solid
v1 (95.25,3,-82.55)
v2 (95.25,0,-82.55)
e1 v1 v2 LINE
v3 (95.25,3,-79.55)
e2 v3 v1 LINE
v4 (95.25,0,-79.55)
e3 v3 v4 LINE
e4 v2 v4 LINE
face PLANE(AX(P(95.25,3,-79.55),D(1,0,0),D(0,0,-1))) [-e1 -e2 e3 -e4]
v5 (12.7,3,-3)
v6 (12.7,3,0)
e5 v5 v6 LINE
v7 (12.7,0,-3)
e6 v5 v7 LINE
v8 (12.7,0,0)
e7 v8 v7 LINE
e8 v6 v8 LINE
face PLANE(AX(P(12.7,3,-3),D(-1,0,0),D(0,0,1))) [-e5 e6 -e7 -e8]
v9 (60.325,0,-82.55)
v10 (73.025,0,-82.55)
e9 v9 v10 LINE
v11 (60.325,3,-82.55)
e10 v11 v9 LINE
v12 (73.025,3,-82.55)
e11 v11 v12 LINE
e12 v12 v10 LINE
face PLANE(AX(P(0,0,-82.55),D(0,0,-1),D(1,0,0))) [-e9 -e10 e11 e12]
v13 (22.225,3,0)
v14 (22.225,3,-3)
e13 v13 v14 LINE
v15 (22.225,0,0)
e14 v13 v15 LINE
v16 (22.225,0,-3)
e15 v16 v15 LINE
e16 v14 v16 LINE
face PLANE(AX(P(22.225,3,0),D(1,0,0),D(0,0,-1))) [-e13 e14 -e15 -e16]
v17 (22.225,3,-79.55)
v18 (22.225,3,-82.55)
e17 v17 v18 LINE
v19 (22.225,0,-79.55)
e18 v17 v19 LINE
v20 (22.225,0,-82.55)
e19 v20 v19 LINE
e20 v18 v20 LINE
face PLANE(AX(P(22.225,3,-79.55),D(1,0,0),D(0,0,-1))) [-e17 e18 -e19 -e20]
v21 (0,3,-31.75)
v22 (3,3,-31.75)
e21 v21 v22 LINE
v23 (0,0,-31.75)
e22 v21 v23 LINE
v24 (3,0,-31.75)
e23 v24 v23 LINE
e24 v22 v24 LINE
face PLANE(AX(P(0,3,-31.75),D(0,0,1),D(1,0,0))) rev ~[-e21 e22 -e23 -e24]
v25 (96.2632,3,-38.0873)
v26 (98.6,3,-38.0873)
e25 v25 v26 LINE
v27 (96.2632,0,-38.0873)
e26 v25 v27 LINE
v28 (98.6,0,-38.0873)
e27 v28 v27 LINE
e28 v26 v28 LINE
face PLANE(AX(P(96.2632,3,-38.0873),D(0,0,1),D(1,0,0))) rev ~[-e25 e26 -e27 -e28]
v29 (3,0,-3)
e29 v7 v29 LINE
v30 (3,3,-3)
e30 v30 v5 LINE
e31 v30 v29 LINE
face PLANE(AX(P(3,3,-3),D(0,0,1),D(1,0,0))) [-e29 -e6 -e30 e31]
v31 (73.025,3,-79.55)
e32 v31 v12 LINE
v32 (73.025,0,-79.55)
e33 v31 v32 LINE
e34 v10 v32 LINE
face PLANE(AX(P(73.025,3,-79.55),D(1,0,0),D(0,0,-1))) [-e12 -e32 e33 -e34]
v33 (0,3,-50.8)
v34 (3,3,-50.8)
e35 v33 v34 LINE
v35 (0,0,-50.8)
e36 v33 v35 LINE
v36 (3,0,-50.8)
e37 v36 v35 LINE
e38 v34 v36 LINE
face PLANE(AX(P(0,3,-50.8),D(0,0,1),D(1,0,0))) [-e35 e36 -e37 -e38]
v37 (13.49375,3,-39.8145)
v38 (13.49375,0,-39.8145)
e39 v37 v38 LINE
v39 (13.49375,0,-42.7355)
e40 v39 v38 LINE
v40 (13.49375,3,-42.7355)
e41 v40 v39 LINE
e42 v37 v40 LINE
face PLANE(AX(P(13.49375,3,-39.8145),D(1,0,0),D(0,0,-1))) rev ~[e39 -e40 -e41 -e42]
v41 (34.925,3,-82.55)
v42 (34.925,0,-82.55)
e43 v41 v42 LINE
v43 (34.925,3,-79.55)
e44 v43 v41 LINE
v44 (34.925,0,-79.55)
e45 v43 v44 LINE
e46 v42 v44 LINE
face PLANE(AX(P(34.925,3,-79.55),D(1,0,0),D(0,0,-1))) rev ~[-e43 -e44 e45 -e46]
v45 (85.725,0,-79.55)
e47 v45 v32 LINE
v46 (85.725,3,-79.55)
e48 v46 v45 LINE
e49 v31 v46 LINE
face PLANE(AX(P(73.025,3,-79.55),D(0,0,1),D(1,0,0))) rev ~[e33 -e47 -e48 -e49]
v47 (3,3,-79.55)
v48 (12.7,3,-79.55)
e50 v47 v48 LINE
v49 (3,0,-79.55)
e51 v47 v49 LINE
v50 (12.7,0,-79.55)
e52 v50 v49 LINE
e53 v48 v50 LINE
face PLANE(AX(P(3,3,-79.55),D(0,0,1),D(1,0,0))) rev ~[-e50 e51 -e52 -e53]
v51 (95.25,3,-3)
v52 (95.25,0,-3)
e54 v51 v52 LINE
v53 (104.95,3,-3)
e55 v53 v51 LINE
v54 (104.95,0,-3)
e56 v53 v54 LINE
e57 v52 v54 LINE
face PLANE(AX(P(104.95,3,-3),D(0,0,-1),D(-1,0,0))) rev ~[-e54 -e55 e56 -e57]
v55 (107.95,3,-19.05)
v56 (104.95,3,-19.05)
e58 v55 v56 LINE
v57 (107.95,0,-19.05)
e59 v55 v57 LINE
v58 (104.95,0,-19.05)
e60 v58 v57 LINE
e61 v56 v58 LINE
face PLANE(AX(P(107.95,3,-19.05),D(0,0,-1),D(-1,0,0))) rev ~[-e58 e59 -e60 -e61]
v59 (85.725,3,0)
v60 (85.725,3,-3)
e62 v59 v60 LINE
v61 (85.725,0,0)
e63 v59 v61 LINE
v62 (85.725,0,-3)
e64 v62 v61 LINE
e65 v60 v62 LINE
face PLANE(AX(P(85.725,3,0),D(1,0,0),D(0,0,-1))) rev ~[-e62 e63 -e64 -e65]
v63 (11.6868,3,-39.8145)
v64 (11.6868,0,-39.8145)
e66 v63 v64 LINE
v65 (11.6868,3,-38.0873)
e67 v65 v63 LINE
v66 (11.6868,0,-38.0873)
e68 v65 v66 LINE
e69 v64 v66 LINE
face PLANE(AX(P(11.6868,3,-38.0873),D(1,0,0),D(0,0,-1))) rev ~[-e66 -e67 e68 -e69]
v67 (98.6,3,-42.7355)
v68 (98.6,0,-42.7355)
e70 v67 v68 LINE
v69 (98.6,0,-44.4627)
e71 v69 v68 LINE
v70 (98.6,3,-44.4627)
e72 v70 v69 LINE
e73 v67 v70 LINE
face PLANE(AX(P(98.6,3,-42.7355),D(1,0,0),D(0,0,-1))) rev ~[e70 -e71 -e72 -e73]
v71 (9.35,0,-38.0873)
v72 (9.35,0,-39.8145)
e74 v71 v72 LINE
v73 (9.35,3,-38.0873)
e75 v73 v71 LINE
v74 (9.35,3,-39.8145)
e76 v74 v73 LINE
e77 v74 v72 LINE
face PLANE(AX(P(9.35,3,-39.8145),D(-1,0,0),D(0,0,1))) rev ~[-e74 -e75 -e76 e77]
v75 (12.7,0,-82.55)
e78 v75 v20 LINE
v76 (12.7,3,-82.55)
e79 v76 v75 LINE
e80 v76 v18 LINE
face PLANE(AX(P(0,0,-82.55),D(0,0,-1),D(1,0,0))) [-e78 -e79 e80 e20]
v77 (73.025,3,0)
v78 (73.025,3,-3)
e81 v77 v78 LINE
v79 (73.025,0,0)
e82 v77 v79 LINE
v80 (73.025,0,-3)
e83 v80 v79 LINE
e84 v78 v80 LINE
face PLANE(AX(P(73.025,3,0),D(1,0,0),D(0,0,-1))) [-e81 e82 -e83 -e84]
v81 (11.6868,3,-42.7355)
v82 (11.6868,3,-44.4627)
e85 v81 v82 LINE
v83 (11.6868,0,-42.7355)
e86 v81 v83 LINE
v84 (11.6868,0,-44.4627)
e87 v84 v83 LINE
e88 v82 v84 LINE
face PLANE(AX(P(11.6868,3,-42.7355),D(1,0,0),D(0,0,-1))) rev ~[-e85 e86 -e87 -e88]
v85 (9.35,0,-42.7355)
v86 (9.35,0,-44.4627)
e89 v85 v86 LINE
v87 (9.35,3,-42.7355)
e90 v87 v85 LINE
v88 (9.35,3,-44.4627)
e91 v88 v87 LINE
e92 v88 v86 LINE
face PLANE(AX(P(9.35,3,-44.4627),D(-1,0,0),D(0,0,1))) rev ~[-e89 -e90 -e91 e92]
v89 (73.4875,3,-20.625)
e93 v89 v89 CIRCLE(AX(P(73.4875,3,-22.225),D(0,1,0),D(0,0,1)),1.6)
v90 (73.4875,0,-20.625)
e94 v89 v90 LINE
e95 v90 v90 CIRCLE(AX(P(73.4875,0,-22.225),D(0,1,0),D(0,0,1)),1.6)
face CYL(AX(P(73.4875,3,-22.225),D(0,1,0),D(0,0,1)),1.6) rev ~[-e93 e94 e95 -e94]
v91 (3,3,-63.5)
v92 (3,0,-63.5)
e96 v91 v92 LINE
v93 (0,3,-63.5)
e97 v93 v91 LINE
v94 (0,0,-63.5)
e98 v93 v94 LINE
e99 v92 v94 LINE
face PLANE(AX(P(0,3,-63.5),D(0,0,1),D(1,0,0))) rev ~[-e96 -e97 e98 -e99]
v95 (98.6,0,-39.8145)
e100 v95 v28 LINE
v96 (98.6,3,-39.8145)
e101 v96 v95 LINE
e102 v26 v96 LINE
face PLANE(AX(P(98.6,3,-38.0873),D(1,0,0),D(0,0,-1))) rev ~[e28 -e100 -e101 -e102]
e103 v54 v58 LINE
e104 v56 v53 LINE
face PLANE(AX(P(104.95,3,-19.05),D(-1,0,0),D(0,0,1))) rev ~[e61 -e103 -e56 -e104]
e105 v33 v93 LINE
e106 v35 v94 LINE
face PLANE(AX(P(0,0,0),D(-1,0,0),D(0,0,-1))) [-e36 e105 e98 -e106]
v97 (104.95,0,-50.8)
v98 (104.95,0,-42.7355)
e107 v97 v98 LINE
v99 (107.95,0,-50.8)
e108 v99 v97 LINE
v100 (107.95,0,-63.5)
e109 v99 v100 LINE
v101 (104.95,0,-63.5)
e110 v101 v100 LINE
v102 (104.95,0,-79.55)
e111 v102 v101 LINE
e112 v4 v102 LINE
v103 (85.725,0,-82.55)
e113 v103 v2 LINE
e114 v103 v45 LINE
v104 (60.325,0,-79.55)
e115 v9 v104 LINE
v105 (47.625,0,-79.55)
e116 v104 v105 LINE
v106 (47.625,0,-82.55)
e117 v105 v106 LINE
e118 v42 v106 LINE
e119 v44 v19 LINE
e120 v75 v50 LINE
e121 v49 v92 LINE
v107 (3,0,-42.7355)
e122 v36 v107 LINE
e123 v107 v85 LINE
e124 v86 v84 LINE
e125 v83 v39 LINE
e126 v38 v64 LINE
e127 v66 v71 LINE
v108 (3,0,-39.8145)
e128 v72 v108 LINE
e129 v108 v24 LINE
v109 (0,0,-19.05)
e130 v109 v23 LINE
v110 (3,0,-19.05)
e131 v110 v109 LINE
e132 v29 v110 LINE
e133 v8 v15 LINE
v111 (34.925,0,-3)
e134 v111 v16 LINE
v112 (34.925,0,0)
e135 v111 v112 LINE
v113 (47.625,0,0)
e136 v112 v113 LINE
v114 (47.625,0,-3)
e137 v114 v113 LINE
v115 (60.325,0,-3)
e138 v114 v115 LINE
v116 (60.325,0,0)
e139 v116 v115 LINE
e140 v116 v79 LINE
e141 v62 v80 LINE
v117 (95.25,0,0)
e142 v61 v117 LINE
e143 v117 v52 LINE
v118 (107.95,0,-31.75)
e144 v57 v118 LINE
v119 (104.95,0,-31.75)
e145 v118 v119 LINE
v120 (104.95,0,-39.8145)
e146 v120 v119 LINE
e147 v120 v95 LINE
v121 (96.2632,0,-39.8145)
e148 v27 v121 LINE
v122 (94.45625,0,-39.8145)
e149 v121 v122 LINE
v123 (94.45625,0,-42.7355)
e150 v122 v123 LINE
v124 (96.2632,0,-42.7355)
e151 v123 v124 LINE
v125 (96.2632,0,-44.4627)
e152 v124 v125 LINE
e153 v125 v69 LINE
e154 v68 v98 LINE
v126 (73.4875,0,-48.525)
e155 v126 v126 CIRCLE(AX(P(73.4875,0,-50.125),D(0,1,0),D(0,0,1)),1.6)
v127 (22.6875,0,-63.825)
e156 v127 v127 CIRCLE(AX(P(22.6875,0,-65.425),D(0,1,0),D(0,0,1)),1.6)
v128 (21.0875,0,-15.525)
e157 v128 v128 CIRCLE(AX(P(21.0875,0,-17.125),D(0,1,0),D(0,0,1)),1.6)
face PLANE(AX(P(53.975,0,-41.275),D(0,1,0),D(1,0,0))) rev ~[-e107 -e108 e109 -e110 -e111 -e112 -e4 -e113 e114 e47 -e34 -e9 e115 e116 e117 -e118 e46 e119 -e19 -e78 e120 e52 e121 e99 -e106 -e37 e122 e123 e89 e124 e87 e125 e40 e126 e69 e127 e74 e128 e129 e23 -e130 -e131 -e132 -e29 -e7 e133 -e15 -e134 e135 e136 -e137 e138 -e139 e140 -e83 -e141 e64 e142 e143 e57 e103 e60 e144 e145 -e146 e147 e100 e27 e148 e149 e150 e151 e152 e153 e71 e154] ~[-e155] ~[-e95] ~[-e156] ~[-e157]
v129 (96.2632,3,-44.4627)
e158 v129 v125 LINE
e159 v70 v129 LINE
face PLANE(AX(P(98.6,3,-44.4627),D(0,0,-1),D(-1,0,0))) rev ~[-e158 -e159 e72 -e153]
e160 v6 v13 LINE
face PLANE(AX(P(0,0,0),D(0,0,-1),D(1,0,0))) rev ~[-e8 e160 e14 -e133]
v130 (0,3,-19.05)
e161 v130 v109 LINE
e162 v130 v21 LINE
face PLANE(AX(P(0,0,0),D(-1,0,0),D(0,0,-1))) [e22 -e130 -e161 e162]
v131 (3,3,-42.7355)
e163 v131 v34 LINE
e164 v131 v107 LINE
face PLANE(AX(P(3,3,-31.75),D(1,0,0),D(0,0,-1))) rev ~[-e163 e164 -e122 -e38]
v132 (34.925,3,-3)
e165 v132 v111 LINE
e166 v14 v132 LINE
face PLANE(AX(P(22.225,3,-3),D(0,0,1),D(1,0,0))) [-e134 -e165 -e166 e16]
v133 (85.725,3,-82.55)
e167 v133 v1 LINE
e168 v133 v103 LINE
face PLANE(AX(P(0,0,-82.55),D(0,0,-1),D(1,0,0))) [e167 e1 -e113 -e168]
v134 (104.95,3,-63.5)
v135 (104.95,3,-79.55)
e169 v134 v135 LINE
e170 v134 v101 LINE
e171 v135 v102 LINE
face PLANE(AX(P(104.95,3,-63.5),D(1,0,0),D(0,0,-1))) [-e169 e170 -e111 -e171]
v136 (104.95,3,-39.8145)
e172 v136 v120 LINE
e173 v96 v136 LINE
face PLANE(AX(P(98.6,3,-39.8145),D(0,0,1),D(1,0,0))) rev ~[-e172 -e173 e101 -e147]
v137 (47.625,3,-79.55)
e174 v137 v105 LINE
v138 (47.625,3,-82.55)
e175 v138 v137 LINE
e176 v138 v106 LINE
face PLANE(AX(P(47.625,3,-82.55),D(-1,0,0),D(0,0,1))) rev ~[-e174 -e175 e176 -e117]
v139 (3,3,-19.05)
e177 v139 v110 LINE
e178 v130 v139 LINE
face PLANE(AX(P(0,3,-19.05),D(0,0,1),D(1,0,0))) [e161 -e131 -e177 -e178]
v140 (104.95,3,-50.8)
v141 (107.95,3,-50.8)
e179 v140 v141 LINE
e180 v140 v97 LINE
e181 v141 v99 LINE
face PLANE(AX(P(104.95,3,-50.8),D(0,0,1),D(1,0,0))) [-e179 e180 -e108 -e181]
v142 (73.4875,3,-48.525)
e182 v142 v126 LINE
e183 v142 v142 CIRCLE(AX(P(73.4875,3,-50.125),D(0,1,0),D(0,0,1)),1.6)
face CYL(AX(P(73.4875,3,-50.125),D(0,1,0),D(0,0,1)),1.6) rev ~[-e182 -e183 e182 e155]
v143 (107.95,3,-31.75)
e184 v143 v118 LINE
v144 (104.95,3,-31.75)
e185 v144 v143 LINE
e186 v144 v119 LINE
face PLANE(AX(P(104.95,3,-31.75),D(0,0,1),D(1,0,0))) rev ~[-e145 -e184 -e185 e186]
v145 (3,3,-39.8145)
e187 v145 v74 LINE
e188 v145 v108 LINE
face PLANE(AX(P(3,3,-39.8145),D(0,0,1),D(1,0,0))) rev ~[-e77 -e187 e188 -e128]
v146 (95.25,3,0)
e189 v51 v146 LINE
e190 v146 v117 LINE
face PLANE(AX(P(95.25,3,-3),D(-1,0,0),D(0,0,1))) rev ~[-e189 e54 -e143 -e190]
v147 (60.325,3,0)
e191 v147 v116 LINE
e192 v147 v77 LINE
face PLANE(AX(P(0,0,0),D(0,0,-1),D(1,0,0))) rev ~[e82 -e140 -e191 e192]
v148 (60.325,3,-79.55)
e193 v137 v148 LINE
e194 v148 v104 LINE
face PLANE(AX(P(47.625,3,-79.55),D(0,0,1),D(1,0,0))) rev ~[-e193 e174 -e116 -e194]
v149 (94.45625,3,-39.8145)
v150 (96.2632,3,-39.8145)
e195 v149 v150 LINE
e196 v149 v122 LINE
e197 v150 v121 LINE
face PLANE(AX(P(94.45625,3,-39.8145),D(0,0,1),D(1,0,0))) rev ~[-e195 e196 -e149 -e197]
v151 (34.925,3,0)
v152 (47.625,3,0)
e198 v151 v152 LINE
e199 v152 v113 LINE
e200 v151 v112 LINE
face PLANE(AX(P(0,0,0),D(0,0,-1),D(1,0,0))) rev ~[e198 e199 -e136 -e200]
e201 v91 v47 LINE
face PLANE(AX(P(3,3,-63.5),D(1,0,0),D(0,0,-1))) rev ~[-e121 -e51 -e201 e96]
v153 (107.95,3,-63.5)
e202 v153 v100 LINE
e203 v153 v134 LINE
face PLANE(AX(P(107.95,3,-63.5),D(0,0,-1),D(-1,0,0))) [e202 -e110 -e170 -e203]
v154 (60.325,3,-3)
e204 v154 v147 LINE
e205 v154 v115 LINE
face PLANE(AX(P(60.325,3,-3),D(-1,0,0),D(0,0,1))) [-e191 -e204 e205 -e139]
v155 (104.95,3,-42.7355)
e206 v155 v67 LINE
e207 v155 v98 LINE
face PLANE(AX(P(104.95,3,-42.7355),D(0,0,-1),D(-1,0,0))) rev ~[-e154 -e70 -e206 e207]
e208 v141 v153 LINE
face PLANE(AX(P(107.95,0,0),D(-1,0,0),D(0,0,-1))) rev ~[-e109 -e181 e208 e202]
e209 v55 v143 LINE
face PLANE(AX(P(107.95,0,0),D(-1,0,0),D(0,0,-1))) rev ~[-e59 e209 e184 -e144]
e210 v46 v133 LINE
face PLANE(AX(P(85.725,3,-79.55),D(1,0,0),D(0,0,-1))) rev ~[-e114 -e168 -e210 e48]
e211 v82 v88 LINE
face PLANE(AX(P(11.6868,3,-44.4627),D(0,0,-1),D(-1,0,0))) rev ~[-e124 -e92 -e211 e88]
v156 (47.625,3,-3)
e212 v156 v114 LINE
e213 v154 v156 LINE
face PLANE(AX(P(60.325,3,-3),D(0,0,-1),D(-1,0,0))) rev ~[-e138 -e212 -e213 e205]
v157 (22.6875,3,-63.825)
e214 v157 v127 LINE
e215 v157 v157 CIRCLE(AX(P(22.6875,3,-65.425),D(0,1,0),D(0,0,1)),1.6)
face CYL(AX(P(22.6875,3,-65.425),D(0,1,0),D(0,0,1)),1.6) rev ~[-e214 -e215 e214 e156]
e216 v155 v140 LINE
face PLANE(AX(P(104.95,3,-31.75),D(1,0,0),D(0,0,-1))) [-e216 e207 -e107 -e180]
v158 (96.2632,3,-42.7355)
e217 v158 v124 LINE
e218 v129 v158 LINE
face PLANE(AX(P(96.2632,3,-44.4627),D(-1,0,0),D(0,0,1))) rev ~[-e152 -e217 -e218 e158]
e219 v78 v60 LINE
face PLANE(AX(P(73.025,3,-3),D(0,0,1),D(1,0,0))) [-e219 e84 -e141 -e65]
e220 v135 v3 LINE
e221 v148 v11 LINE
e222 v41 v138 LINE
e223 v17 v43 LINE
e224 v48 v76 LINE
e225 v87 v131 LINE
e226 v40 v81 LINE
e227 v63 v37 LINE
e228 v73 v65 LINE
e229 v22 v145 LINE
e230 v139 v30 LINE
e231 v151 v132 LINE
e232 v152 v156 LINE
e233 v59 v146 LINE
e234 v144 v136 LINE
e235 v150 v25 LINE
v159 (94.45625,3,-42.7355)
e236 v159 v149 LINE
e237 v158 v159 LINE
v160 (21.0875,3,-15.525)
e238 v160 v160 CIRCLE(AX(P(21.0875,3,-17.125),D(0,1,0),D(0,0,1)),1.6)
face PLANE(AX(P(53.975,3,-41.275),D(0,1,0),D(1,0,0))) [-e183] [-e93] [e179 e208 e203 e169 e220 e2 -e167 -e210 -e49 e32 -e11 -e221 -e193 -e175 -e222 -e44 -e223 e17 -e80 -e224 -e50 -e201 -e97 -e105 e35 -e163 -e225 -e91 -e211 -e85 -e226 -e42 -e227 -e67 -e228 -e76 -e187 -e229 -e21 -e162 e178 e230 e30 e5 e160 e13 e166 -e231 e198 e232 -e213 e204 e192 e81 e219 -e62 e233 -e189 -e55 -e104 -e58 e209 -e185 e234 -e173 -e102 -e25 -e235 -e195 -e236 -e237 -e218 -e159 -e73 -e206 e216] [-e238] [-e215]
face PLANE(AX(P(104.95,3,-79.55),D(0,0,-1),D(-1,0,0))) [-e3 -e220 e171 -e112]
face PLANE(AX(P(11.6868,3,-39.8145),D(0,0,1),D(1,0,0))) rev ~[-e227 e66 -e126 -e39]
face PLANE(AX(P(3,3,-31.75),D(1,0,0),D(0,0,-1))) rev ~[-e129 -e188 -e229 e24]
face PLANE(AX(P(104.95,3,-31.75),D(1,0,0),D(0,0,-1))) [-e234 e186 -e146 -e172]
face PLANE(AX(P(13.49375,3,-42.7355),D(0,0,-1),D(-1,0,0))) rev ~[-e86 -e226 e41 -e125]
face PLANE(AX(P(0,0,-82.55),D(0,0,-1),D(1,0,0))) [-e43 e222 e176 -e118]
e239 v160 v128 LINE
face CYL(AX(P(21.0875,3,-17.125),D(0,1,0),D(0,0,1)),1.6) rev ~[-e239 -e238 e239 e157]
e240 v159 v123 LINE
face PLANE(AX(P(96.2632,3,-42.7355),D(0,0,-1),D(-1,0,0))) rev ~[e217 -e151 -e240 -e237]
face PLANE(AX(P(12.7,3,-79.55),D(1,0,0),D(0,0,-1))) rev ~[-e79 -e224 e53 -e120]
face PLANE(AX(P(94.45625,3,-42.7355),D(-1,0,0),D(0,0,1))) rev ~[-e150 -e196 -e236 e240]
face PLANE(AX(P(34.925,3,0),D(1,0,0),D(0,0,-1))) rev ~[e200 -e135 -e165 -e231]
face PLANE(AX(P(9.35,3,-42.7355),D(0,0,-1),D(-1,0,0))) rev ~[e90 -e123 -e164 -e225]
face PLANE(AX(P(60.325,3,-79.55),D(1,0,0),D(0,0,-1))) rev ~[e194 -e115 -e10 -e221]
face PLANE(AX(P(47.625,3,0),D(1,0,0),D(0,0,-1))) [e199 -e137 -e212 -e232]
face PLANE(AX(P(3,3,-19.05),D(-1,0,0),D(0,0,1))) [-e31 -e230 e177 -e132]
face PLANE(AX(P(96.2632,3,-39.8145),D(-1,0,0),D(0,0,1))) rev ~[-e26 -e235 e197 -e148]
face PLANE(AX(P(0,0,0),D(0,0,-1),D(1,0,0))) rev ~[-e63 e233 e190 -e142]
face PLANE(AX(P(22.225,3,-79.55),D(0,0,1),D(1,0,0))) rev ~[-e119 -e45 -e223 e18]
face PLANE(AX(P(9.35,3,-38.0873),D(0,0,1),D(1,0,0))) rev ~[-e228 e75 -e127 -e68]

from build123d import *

# Parameters (mm, degrees)
SKETCH1_W           = 107.95
SKETCH1_H           = 82.55
BOSS_EXTRUDE1_DEPTH = 3
CUT_EXTRUDE2_REACH  = 137.929
SKETCH3_W           = 12.7
SKETCH3_H           = 3
SKETCH3_W_2         = 3
SKETCH3_H_2         = 19.05
CUT_EXTRUDE3_REACH  = 137.929
SKETCH4_R           = 1.6
CUT_EXTRUDE5_REACH  = 137.929


with BuildPart() as part:
    # Sketch1 → Boss-Extrude1 (new body)
    with BuildSketch(Plane(origin=(0, 0, 0), x_dir=(1, 0, 0), z_dir=(0, 1, 0))):
        with Locations((53.975, 41.275)):
            Rectangle(SKETCH1_W, SKETCH1_H)
    extrude(amount=BOSS_EXTRUDE1_DEPTH)

    # Sketch3 → Cut-Extrude2 (cut, up to next)
    with BuildSketch(Plane(origin=(0, 3, 0), x_dir=(1, 0, 0), z_dir=(0, 1, 0)), mode=Mode.PRIVATE) as cut_extrude2_sk1:
        with Locations((28.575, 1.5)):
            Rectangle(SKETCH3_W, SKETCH3_H)
    cut_extrude2_tool1 = extrude(cut_extrude2_sk1.sketch, amount=-CUT_EXTRUDE2_REACH, mode=Mode.PRIVATE) & part.part
    # Sketch3 → Cut-Extrude2 (cut, up to next)
    with BuildSketch(Plane(origin=(0, 3, 0), x_dir=(1, 0, 0), z_dir=(0, 1, 0)), mode=Mode.PRIVATE) as cut_extrude2_sk2:
        with Locations((79.375, 1.5)):
            Rectangle(SKETCH3_W, SKETCH3_H)
    cut_extrude2_tool2 = extrude(cut_extrude2_sk2.sketch, amount=-CUT_EXTRUDE2_REACH, mode=Mode.PRIVATE) & part.part
    # Sketch3 → Cut-Extrude2 (cut, up to next)
    with BuildSketch(Plane(origin=(0, 3, 0), x_dir=(1, 0, 0), z_dir=(0, 1, 0)), mode=Mode.PRIVATE) as cut_extrude2_sk3:
        with Locations((79.375, 81.05)):
            Rectangle(SKETCH3_W, SKETCH3_H)
    cut_extrude2_tool3 = extrude(cut_extrude2_sk3.sketch, amount=-CUT_EXTRUDE2_REACH, mode=Mode.PRIVATE) & part.part
    # Sketch3 → Cut-Extrude2 (cut, up to next)
    with BuildSketch(Plane(origin=(0, 3, 0), x_dir=(1, 0, 0), z_dir=(0, 1, 0)), mode=Mode.PRIVATE) as cut_extrude2_sk4:
        with Locations((1.5, 41.275)):
            Rectangle(SKETCH3_W_2, SKETCH3_H_2)
    cut_extrude2_tool4 = extrude(cut_extrude2_sk4.sketch, amount=-CUT_EXTRUDE2_REACH, mode=Mode.PRIVATE) & part.part
    # Sketch3 → Cut-Extrude2 (cut, up to next)
    with BuildSketch(Plane(origin=(0, 3, 0), x_dir=(1, 0, 0), z_dir=(0, 1, 0)), mode=Mode.PRIVATE) as cut_extrude2_sk5:
        with Locations((28.575, 81.05)):
            Rectangle(SKETCH3_W, SKETCH3_H)
    cut_extrude2_tool5 = extrude(cut_extrude2_sk5.sketch, amount=-CUT_EXTRUDE2_REACH, mode=Mode.PRIVATE) & part.part
    # Sketch3 → Cut-Extrude2 (cut, up to next)
    with BuildSketch(Plane(origin=(0, 3, 0), x_dir=(1, 0, 0), z_dir=(0, 1, 0)), mode=Mode.PRIVATE) as cut_extrude2_sk6:
        Polygon((53.975, 3), (60.325, 3), (60.325, 0), (53.975, 0), (47.625, 0), (47.625, 3), align=None)
    cut_extrude2_tool6 = extrude(cut_extrude2_sk6.sketch, amount=-CUT_EXTRUDE2_REACH, mode=Mode.PRIVATE) & part.part
    # Sketch3 → Cut-Extrude2 (cut, up to next)
    with BuildSketch(Plane(origin=(0, 3, 0), x_dir=(1, 0, 0), z_dir=(0, 1, 0)), mode=Mode.PRIVATE) as cut_extrude2_sk7:
        Polygon((60.325, 82.55), (53.975, 82.55), (47.625, 82.55), (47.625, 79.55), (53.975, 79.55), (60.325, 79.55), align=None)
    cut_extrude2_tool7 = extrude(cut_extrude2_sk7.sketch, amount=-CUT_EXTRUDE2_REACH, mode=Mode.PRIVATE) & part.part
    # Sketch3 → Cut-Extrude2 (cut, up to next)
    with BuildSketch(Plane(origin=(0, 3, 0), x_dir=(1, 0, 0), z_dir=(0, 1, 0)), mode=Mode.PRIVATE) as cut_extrude2_sk8:
        Polygon((0, 19.05), (3, 19.05), (3, 3), (12.7, 3), (12.7, 0), (0, 0), (0, 3), align=None)
    cut_extrude2_tool8 = extrude(cut_extrude2_sk8.sketch, amount=-CUT_EXTRUDE2_REACH, mode=Mode.PRIVATE) & part.part
    # Sketch3 → Cut-Extrude2 (cut, up to next)
    with BuildSketch(Plane(origin=(0, 3, 0), x_dir=(1, 0, 0), z_dir=(0, 1, 0)), mode=Mode.PRIVATE) as cut_extrude2_sk9:
        Polygon((107.95, 0), (107.95, 3), (107.95, 19.05), (104.95, 19.05), (104.95, 3), (95.25, 3), (95.25, 0), align=None)
    cut_extrude2_tool9 = extrude(cut_extrude2_sk9.sketch, amount=-CUT_EXTRUDE2_REACH, mode=Mode.PRIVATE) & part.part
    # Sketch3 → Cut-Extrude2 (cut, up to next)
    with BuildSketch(Plane(origin=(0, 3, 0), x_dir=(1, 0, 0), z_dir=(0, 1, 0)), mode=Mode.PRIVATE) as cut_extrude2_sk10:
        Polygon((0, 79.55), (0, 63.5), (3, 63.5), (3, 79.55), (12.7, 79.55), (12.7, 82.55), (0, 82.55), align=None)
    cut_extrude2_tool10 = extrude(cut_extrude2_sk10.sketch, amount=-CUT_EXTRUDE2_REACH, mode=Mode.PRIVATE) & part.part
    # Sketch3 → Cut-Extrude2 (cut, up to next)
    with BuildSketch(Plane(origin=(0, 3, 0), x_dir=(1, 0, 0), z_dir=(0, 1, 0)), mode=Mode.PRIVATE) as cut_extrude2_sk11:
        with Locations((106.45, 41.275)):
            Rectangle(SKETCH3_W_2, SKETCH3_H_2)
    cut_extrude2_tool11 = extrude(cut_extrude2_sk11.sketch, amount=-CUT_EXTRUDE2_REACH, mode=Mode.PRIVATE) & part.part
    # Sketch3 → Cut-Extrude2 (cut, up to next)
    with BuildSketch(Plane(origin=(0, 3, 0), x_dir=(1, 0, 0), z_dir=(0, 1, 0)), mode=Mode.PRIVATE) as cut_extrude2_sk12:
        Polygon((107.95, 63.5), (104.95, 63.5), (104.95, 79.55), (95.25, 79.55), (95.25, 82.55), (107.95, 82.55), (107.95, 79.55), align=None)
    cut_extrude2_tool12 = extrude(cut_extrude2_sk12.sketch, amount=-CUT_EXTRUDE2_REACH, mode=Mode.PRIVATE) & part.part
    add(cut_extrude2_tool1.solids().sort_by_distance((28.575, 3, -1.5))[0], mode=Mode.SUBTRACT)
    add(cut_extrude2_tool2.solids().sort_by_distance((79.375, 3, -1.5))[0], mode=Mode.SUBTRACT)
    add(cut_extrude2_tool3.solids().sort_by_distance((79.375, 3, -81.05))[0], mode=Mode.SUBTRACT)
    add(cut_extrude2_tool4.solids().sort_by_distance((1.5, 3, -41.275))[0], mode=Mode.SUBTRACT)
    add(cut_extrude2_tool5.solids().sort_by_distance((28.575, 3, -81.05))[0], mode=Mode.SUBTRACT)
    add(cut_extrude2_tool6.solids().sort_by_distance((53.975, 3, -1.5))[0], mode=Mode.SUBTRACT)
    add(cut_extrude2_tool7.solids().sort_by_distance((53.975, 3, -81.05))[0], mode=Mode.SUBTRACT)
    add(cut_extrude2_tool8.solids().sort_by_distance((1.5, 3, -18.821047))[0], mode=Mode.SUBTRACT)
    add(cut_extrude2_tool9.solids().sort_by_distance((107.721047, 3, -1.5))[0], mode=Mode.SUBTRACT)
    add(cut_extrude2_tool10.solids().sort_by_distance((0.228953, 3, -71.525))[0], mode=Mode.SUBTRACT)
    add(cut_extrude2_tool11.solids().sort_by_distance((106.45, 3, -41.275))[0], mode=Mode.SUBTRACT)
    add(cut_extrude2_tool12.solids().sort_by_distance((106.45, 3, -63.728953))[0], mode=Mode.SUBTRACT)

    # Sketch4 → Cut-Extrude3 (cut, up to next)
    with BuildSketch(Plane(origin=(0, 3, 0), x_dir=(1, 0, 0), z_dir=(0, 1, 0)), mode=Mode.PRIVATE) as cut_extrude3_sk1:
        with Locations(Location((22.6875, 65.425, 0), (0, 0, 270))):
            Circle(SKETCH4_R)
    cut_extrude3_tool1 = extrude(cut_extrude3_sk1.sketch, amount=-CUT_EXTRUDE3_REACH, mode=Mode.PRIVATE) & part.part
    # Sketch4 → Cut-Extrude3 (cut, up to next)
    with BuildSketch(Plane(origin=(0, 3, 0), x_dir=(1, 0, 0), z_dir=(0, 1, 0)), mode=Mode.PRIVATE) as cut_extrude3_sk2:
        with Locations(Location((21.0875, 17.125, 0), (0, 0, 270))):
            Circle(SKETCH4_R)
    cut_extrude3_tool2 = extrude(cut_extrude3_sk2.sketch, amount=-CUT_EXTRUDE3_REACH, mode=Mode.PRIVATE) & part.part
    # Sketch4 → Cut-Extrude3 (cut, up to next)
    with BuildSketch(Plane(origin=(0, 3, 0), x_dir=(1, 0, 0), z_dir=(0, 1, 0)), mode=Mode.PRIVATE) as cut_extrude3_sk3:
        with Locations(Location((73.4875, 22.225, 0), (0, 0, 270))):
            Circle(SKETCH4_R)
    cut_extrude3_tool3 = extrude(cut_extrude3_sk3.sketch, amount=-CUT_EXTRUDE3_REACH, mode=Mode.PRIVATE) & part.part
    # Sketch4 → Cut-Extrude3 (cut, up to next)
    with BuildSketch(Plane(origin=(0, 3, 0), x_dir=(1, 0, 0), z_dir=(0, 1, 0)), mode=Mode.PRIVATE) as cut_extrude3_sk4:
        with Locations(Location((73.4875, 50.125, 0), (0, 0, 270))):
            Circle(SKETCH4_R)
    cut_extrude3_tool4 = extrude(cut_extrude3_sk4.sketch, amount=-CUT_EXTRUDE3_REACH, mode=Mode.PRIVATE) & part.part
    add(cut_extrude3_tool1.solids().sort_by_distance((22.6875, 3, -65.425))[0], mode=Mode.SUBTRACT)
    add(cut_extrude3_tool2.solids().sort_by_distance((21.0875, 3, -17.125))[0], mode=Mode.SUBTRACT)
    add(cut_extrude3_tool3.solids().sort_by_distance((73.4875, 3, -22.225))[0], mode=Mode.SUBTRACT)
    add(cut_extrude3_tool4.solids().sort_by_distance((73.4875, 3, -50.125))[0], mode=Mode.SUBTRACT)

    # Sketch6 → Cut-Extrude5 (cut, up to next)
    with BuildSketch(Plane(origin=(0, 3, 0), x_dir=(1, 0, 0), z_dir=(0, 1, 0)), mode=Mode.PRIVATE) as cut_extrude5_sk1:
        Polygon((3, 39.8145), (9.35, 39.8145), (9.35, 38.0873), (11.6868, 38.0873), (11.6868, 39.8145), (13.49375, 39.8145), (13.49375, 41.275), (13.49375, 42.7355), (11.6868, 42.7355), (11.6868, 44.4627), (9.35, 44.4627), (9.35, 42.7355), (3, 42.7355), (3, 41.275), align=None)
    cut_extrude5_tool1 = extrude(cut_extrude5_sk1.sketch, amount=-CUT_EXTRUDE5_REACH, mode=Mode.PRIVATE) & part.part
    # Sketch6 → Cut-Extrude5 (cut, up to next)
    with BuildSketch(Plane(origin=(0, 3, 0), x_dir=(1, 0, 0), z_dir=(0, 1, 0)), mode=Mode.PRIVATE) as cut_extrude5_sk2:
        Polygon((94.45625, 42.7355), (94.45625, 41.275), (94.45625, 39.8145), (96.2632, 39.8145), (96.2632, 38.0873), (98.6, 38.0873), (98.6, 39.8145), (104.95, 39.8145), (104.95, 41.275), (104.95, 42.7355), (98.6, 42.7355), (98.6, 44.4627), (96.2632, 44.4627), (96.2632, 42.7355), align=None)
    cut_extrude5_tool2 = extrude(cut_extrude5_sk2.sketch, amount=-CUT_EXTRUDE5_REACH, mode=Mode.PRIVATE) & part.part
    add(cut_extrude5_tool1.solids().sort_by_distance((8.720382, 3, -41.275))[0], mode=Mode.SUBTRACT)
    add(cut_extrude5_tool2.solids().sort_by_distance((99.229618, 3, -41.275))[0], mode=Mode.SUBTRACT)


solid = part.part
